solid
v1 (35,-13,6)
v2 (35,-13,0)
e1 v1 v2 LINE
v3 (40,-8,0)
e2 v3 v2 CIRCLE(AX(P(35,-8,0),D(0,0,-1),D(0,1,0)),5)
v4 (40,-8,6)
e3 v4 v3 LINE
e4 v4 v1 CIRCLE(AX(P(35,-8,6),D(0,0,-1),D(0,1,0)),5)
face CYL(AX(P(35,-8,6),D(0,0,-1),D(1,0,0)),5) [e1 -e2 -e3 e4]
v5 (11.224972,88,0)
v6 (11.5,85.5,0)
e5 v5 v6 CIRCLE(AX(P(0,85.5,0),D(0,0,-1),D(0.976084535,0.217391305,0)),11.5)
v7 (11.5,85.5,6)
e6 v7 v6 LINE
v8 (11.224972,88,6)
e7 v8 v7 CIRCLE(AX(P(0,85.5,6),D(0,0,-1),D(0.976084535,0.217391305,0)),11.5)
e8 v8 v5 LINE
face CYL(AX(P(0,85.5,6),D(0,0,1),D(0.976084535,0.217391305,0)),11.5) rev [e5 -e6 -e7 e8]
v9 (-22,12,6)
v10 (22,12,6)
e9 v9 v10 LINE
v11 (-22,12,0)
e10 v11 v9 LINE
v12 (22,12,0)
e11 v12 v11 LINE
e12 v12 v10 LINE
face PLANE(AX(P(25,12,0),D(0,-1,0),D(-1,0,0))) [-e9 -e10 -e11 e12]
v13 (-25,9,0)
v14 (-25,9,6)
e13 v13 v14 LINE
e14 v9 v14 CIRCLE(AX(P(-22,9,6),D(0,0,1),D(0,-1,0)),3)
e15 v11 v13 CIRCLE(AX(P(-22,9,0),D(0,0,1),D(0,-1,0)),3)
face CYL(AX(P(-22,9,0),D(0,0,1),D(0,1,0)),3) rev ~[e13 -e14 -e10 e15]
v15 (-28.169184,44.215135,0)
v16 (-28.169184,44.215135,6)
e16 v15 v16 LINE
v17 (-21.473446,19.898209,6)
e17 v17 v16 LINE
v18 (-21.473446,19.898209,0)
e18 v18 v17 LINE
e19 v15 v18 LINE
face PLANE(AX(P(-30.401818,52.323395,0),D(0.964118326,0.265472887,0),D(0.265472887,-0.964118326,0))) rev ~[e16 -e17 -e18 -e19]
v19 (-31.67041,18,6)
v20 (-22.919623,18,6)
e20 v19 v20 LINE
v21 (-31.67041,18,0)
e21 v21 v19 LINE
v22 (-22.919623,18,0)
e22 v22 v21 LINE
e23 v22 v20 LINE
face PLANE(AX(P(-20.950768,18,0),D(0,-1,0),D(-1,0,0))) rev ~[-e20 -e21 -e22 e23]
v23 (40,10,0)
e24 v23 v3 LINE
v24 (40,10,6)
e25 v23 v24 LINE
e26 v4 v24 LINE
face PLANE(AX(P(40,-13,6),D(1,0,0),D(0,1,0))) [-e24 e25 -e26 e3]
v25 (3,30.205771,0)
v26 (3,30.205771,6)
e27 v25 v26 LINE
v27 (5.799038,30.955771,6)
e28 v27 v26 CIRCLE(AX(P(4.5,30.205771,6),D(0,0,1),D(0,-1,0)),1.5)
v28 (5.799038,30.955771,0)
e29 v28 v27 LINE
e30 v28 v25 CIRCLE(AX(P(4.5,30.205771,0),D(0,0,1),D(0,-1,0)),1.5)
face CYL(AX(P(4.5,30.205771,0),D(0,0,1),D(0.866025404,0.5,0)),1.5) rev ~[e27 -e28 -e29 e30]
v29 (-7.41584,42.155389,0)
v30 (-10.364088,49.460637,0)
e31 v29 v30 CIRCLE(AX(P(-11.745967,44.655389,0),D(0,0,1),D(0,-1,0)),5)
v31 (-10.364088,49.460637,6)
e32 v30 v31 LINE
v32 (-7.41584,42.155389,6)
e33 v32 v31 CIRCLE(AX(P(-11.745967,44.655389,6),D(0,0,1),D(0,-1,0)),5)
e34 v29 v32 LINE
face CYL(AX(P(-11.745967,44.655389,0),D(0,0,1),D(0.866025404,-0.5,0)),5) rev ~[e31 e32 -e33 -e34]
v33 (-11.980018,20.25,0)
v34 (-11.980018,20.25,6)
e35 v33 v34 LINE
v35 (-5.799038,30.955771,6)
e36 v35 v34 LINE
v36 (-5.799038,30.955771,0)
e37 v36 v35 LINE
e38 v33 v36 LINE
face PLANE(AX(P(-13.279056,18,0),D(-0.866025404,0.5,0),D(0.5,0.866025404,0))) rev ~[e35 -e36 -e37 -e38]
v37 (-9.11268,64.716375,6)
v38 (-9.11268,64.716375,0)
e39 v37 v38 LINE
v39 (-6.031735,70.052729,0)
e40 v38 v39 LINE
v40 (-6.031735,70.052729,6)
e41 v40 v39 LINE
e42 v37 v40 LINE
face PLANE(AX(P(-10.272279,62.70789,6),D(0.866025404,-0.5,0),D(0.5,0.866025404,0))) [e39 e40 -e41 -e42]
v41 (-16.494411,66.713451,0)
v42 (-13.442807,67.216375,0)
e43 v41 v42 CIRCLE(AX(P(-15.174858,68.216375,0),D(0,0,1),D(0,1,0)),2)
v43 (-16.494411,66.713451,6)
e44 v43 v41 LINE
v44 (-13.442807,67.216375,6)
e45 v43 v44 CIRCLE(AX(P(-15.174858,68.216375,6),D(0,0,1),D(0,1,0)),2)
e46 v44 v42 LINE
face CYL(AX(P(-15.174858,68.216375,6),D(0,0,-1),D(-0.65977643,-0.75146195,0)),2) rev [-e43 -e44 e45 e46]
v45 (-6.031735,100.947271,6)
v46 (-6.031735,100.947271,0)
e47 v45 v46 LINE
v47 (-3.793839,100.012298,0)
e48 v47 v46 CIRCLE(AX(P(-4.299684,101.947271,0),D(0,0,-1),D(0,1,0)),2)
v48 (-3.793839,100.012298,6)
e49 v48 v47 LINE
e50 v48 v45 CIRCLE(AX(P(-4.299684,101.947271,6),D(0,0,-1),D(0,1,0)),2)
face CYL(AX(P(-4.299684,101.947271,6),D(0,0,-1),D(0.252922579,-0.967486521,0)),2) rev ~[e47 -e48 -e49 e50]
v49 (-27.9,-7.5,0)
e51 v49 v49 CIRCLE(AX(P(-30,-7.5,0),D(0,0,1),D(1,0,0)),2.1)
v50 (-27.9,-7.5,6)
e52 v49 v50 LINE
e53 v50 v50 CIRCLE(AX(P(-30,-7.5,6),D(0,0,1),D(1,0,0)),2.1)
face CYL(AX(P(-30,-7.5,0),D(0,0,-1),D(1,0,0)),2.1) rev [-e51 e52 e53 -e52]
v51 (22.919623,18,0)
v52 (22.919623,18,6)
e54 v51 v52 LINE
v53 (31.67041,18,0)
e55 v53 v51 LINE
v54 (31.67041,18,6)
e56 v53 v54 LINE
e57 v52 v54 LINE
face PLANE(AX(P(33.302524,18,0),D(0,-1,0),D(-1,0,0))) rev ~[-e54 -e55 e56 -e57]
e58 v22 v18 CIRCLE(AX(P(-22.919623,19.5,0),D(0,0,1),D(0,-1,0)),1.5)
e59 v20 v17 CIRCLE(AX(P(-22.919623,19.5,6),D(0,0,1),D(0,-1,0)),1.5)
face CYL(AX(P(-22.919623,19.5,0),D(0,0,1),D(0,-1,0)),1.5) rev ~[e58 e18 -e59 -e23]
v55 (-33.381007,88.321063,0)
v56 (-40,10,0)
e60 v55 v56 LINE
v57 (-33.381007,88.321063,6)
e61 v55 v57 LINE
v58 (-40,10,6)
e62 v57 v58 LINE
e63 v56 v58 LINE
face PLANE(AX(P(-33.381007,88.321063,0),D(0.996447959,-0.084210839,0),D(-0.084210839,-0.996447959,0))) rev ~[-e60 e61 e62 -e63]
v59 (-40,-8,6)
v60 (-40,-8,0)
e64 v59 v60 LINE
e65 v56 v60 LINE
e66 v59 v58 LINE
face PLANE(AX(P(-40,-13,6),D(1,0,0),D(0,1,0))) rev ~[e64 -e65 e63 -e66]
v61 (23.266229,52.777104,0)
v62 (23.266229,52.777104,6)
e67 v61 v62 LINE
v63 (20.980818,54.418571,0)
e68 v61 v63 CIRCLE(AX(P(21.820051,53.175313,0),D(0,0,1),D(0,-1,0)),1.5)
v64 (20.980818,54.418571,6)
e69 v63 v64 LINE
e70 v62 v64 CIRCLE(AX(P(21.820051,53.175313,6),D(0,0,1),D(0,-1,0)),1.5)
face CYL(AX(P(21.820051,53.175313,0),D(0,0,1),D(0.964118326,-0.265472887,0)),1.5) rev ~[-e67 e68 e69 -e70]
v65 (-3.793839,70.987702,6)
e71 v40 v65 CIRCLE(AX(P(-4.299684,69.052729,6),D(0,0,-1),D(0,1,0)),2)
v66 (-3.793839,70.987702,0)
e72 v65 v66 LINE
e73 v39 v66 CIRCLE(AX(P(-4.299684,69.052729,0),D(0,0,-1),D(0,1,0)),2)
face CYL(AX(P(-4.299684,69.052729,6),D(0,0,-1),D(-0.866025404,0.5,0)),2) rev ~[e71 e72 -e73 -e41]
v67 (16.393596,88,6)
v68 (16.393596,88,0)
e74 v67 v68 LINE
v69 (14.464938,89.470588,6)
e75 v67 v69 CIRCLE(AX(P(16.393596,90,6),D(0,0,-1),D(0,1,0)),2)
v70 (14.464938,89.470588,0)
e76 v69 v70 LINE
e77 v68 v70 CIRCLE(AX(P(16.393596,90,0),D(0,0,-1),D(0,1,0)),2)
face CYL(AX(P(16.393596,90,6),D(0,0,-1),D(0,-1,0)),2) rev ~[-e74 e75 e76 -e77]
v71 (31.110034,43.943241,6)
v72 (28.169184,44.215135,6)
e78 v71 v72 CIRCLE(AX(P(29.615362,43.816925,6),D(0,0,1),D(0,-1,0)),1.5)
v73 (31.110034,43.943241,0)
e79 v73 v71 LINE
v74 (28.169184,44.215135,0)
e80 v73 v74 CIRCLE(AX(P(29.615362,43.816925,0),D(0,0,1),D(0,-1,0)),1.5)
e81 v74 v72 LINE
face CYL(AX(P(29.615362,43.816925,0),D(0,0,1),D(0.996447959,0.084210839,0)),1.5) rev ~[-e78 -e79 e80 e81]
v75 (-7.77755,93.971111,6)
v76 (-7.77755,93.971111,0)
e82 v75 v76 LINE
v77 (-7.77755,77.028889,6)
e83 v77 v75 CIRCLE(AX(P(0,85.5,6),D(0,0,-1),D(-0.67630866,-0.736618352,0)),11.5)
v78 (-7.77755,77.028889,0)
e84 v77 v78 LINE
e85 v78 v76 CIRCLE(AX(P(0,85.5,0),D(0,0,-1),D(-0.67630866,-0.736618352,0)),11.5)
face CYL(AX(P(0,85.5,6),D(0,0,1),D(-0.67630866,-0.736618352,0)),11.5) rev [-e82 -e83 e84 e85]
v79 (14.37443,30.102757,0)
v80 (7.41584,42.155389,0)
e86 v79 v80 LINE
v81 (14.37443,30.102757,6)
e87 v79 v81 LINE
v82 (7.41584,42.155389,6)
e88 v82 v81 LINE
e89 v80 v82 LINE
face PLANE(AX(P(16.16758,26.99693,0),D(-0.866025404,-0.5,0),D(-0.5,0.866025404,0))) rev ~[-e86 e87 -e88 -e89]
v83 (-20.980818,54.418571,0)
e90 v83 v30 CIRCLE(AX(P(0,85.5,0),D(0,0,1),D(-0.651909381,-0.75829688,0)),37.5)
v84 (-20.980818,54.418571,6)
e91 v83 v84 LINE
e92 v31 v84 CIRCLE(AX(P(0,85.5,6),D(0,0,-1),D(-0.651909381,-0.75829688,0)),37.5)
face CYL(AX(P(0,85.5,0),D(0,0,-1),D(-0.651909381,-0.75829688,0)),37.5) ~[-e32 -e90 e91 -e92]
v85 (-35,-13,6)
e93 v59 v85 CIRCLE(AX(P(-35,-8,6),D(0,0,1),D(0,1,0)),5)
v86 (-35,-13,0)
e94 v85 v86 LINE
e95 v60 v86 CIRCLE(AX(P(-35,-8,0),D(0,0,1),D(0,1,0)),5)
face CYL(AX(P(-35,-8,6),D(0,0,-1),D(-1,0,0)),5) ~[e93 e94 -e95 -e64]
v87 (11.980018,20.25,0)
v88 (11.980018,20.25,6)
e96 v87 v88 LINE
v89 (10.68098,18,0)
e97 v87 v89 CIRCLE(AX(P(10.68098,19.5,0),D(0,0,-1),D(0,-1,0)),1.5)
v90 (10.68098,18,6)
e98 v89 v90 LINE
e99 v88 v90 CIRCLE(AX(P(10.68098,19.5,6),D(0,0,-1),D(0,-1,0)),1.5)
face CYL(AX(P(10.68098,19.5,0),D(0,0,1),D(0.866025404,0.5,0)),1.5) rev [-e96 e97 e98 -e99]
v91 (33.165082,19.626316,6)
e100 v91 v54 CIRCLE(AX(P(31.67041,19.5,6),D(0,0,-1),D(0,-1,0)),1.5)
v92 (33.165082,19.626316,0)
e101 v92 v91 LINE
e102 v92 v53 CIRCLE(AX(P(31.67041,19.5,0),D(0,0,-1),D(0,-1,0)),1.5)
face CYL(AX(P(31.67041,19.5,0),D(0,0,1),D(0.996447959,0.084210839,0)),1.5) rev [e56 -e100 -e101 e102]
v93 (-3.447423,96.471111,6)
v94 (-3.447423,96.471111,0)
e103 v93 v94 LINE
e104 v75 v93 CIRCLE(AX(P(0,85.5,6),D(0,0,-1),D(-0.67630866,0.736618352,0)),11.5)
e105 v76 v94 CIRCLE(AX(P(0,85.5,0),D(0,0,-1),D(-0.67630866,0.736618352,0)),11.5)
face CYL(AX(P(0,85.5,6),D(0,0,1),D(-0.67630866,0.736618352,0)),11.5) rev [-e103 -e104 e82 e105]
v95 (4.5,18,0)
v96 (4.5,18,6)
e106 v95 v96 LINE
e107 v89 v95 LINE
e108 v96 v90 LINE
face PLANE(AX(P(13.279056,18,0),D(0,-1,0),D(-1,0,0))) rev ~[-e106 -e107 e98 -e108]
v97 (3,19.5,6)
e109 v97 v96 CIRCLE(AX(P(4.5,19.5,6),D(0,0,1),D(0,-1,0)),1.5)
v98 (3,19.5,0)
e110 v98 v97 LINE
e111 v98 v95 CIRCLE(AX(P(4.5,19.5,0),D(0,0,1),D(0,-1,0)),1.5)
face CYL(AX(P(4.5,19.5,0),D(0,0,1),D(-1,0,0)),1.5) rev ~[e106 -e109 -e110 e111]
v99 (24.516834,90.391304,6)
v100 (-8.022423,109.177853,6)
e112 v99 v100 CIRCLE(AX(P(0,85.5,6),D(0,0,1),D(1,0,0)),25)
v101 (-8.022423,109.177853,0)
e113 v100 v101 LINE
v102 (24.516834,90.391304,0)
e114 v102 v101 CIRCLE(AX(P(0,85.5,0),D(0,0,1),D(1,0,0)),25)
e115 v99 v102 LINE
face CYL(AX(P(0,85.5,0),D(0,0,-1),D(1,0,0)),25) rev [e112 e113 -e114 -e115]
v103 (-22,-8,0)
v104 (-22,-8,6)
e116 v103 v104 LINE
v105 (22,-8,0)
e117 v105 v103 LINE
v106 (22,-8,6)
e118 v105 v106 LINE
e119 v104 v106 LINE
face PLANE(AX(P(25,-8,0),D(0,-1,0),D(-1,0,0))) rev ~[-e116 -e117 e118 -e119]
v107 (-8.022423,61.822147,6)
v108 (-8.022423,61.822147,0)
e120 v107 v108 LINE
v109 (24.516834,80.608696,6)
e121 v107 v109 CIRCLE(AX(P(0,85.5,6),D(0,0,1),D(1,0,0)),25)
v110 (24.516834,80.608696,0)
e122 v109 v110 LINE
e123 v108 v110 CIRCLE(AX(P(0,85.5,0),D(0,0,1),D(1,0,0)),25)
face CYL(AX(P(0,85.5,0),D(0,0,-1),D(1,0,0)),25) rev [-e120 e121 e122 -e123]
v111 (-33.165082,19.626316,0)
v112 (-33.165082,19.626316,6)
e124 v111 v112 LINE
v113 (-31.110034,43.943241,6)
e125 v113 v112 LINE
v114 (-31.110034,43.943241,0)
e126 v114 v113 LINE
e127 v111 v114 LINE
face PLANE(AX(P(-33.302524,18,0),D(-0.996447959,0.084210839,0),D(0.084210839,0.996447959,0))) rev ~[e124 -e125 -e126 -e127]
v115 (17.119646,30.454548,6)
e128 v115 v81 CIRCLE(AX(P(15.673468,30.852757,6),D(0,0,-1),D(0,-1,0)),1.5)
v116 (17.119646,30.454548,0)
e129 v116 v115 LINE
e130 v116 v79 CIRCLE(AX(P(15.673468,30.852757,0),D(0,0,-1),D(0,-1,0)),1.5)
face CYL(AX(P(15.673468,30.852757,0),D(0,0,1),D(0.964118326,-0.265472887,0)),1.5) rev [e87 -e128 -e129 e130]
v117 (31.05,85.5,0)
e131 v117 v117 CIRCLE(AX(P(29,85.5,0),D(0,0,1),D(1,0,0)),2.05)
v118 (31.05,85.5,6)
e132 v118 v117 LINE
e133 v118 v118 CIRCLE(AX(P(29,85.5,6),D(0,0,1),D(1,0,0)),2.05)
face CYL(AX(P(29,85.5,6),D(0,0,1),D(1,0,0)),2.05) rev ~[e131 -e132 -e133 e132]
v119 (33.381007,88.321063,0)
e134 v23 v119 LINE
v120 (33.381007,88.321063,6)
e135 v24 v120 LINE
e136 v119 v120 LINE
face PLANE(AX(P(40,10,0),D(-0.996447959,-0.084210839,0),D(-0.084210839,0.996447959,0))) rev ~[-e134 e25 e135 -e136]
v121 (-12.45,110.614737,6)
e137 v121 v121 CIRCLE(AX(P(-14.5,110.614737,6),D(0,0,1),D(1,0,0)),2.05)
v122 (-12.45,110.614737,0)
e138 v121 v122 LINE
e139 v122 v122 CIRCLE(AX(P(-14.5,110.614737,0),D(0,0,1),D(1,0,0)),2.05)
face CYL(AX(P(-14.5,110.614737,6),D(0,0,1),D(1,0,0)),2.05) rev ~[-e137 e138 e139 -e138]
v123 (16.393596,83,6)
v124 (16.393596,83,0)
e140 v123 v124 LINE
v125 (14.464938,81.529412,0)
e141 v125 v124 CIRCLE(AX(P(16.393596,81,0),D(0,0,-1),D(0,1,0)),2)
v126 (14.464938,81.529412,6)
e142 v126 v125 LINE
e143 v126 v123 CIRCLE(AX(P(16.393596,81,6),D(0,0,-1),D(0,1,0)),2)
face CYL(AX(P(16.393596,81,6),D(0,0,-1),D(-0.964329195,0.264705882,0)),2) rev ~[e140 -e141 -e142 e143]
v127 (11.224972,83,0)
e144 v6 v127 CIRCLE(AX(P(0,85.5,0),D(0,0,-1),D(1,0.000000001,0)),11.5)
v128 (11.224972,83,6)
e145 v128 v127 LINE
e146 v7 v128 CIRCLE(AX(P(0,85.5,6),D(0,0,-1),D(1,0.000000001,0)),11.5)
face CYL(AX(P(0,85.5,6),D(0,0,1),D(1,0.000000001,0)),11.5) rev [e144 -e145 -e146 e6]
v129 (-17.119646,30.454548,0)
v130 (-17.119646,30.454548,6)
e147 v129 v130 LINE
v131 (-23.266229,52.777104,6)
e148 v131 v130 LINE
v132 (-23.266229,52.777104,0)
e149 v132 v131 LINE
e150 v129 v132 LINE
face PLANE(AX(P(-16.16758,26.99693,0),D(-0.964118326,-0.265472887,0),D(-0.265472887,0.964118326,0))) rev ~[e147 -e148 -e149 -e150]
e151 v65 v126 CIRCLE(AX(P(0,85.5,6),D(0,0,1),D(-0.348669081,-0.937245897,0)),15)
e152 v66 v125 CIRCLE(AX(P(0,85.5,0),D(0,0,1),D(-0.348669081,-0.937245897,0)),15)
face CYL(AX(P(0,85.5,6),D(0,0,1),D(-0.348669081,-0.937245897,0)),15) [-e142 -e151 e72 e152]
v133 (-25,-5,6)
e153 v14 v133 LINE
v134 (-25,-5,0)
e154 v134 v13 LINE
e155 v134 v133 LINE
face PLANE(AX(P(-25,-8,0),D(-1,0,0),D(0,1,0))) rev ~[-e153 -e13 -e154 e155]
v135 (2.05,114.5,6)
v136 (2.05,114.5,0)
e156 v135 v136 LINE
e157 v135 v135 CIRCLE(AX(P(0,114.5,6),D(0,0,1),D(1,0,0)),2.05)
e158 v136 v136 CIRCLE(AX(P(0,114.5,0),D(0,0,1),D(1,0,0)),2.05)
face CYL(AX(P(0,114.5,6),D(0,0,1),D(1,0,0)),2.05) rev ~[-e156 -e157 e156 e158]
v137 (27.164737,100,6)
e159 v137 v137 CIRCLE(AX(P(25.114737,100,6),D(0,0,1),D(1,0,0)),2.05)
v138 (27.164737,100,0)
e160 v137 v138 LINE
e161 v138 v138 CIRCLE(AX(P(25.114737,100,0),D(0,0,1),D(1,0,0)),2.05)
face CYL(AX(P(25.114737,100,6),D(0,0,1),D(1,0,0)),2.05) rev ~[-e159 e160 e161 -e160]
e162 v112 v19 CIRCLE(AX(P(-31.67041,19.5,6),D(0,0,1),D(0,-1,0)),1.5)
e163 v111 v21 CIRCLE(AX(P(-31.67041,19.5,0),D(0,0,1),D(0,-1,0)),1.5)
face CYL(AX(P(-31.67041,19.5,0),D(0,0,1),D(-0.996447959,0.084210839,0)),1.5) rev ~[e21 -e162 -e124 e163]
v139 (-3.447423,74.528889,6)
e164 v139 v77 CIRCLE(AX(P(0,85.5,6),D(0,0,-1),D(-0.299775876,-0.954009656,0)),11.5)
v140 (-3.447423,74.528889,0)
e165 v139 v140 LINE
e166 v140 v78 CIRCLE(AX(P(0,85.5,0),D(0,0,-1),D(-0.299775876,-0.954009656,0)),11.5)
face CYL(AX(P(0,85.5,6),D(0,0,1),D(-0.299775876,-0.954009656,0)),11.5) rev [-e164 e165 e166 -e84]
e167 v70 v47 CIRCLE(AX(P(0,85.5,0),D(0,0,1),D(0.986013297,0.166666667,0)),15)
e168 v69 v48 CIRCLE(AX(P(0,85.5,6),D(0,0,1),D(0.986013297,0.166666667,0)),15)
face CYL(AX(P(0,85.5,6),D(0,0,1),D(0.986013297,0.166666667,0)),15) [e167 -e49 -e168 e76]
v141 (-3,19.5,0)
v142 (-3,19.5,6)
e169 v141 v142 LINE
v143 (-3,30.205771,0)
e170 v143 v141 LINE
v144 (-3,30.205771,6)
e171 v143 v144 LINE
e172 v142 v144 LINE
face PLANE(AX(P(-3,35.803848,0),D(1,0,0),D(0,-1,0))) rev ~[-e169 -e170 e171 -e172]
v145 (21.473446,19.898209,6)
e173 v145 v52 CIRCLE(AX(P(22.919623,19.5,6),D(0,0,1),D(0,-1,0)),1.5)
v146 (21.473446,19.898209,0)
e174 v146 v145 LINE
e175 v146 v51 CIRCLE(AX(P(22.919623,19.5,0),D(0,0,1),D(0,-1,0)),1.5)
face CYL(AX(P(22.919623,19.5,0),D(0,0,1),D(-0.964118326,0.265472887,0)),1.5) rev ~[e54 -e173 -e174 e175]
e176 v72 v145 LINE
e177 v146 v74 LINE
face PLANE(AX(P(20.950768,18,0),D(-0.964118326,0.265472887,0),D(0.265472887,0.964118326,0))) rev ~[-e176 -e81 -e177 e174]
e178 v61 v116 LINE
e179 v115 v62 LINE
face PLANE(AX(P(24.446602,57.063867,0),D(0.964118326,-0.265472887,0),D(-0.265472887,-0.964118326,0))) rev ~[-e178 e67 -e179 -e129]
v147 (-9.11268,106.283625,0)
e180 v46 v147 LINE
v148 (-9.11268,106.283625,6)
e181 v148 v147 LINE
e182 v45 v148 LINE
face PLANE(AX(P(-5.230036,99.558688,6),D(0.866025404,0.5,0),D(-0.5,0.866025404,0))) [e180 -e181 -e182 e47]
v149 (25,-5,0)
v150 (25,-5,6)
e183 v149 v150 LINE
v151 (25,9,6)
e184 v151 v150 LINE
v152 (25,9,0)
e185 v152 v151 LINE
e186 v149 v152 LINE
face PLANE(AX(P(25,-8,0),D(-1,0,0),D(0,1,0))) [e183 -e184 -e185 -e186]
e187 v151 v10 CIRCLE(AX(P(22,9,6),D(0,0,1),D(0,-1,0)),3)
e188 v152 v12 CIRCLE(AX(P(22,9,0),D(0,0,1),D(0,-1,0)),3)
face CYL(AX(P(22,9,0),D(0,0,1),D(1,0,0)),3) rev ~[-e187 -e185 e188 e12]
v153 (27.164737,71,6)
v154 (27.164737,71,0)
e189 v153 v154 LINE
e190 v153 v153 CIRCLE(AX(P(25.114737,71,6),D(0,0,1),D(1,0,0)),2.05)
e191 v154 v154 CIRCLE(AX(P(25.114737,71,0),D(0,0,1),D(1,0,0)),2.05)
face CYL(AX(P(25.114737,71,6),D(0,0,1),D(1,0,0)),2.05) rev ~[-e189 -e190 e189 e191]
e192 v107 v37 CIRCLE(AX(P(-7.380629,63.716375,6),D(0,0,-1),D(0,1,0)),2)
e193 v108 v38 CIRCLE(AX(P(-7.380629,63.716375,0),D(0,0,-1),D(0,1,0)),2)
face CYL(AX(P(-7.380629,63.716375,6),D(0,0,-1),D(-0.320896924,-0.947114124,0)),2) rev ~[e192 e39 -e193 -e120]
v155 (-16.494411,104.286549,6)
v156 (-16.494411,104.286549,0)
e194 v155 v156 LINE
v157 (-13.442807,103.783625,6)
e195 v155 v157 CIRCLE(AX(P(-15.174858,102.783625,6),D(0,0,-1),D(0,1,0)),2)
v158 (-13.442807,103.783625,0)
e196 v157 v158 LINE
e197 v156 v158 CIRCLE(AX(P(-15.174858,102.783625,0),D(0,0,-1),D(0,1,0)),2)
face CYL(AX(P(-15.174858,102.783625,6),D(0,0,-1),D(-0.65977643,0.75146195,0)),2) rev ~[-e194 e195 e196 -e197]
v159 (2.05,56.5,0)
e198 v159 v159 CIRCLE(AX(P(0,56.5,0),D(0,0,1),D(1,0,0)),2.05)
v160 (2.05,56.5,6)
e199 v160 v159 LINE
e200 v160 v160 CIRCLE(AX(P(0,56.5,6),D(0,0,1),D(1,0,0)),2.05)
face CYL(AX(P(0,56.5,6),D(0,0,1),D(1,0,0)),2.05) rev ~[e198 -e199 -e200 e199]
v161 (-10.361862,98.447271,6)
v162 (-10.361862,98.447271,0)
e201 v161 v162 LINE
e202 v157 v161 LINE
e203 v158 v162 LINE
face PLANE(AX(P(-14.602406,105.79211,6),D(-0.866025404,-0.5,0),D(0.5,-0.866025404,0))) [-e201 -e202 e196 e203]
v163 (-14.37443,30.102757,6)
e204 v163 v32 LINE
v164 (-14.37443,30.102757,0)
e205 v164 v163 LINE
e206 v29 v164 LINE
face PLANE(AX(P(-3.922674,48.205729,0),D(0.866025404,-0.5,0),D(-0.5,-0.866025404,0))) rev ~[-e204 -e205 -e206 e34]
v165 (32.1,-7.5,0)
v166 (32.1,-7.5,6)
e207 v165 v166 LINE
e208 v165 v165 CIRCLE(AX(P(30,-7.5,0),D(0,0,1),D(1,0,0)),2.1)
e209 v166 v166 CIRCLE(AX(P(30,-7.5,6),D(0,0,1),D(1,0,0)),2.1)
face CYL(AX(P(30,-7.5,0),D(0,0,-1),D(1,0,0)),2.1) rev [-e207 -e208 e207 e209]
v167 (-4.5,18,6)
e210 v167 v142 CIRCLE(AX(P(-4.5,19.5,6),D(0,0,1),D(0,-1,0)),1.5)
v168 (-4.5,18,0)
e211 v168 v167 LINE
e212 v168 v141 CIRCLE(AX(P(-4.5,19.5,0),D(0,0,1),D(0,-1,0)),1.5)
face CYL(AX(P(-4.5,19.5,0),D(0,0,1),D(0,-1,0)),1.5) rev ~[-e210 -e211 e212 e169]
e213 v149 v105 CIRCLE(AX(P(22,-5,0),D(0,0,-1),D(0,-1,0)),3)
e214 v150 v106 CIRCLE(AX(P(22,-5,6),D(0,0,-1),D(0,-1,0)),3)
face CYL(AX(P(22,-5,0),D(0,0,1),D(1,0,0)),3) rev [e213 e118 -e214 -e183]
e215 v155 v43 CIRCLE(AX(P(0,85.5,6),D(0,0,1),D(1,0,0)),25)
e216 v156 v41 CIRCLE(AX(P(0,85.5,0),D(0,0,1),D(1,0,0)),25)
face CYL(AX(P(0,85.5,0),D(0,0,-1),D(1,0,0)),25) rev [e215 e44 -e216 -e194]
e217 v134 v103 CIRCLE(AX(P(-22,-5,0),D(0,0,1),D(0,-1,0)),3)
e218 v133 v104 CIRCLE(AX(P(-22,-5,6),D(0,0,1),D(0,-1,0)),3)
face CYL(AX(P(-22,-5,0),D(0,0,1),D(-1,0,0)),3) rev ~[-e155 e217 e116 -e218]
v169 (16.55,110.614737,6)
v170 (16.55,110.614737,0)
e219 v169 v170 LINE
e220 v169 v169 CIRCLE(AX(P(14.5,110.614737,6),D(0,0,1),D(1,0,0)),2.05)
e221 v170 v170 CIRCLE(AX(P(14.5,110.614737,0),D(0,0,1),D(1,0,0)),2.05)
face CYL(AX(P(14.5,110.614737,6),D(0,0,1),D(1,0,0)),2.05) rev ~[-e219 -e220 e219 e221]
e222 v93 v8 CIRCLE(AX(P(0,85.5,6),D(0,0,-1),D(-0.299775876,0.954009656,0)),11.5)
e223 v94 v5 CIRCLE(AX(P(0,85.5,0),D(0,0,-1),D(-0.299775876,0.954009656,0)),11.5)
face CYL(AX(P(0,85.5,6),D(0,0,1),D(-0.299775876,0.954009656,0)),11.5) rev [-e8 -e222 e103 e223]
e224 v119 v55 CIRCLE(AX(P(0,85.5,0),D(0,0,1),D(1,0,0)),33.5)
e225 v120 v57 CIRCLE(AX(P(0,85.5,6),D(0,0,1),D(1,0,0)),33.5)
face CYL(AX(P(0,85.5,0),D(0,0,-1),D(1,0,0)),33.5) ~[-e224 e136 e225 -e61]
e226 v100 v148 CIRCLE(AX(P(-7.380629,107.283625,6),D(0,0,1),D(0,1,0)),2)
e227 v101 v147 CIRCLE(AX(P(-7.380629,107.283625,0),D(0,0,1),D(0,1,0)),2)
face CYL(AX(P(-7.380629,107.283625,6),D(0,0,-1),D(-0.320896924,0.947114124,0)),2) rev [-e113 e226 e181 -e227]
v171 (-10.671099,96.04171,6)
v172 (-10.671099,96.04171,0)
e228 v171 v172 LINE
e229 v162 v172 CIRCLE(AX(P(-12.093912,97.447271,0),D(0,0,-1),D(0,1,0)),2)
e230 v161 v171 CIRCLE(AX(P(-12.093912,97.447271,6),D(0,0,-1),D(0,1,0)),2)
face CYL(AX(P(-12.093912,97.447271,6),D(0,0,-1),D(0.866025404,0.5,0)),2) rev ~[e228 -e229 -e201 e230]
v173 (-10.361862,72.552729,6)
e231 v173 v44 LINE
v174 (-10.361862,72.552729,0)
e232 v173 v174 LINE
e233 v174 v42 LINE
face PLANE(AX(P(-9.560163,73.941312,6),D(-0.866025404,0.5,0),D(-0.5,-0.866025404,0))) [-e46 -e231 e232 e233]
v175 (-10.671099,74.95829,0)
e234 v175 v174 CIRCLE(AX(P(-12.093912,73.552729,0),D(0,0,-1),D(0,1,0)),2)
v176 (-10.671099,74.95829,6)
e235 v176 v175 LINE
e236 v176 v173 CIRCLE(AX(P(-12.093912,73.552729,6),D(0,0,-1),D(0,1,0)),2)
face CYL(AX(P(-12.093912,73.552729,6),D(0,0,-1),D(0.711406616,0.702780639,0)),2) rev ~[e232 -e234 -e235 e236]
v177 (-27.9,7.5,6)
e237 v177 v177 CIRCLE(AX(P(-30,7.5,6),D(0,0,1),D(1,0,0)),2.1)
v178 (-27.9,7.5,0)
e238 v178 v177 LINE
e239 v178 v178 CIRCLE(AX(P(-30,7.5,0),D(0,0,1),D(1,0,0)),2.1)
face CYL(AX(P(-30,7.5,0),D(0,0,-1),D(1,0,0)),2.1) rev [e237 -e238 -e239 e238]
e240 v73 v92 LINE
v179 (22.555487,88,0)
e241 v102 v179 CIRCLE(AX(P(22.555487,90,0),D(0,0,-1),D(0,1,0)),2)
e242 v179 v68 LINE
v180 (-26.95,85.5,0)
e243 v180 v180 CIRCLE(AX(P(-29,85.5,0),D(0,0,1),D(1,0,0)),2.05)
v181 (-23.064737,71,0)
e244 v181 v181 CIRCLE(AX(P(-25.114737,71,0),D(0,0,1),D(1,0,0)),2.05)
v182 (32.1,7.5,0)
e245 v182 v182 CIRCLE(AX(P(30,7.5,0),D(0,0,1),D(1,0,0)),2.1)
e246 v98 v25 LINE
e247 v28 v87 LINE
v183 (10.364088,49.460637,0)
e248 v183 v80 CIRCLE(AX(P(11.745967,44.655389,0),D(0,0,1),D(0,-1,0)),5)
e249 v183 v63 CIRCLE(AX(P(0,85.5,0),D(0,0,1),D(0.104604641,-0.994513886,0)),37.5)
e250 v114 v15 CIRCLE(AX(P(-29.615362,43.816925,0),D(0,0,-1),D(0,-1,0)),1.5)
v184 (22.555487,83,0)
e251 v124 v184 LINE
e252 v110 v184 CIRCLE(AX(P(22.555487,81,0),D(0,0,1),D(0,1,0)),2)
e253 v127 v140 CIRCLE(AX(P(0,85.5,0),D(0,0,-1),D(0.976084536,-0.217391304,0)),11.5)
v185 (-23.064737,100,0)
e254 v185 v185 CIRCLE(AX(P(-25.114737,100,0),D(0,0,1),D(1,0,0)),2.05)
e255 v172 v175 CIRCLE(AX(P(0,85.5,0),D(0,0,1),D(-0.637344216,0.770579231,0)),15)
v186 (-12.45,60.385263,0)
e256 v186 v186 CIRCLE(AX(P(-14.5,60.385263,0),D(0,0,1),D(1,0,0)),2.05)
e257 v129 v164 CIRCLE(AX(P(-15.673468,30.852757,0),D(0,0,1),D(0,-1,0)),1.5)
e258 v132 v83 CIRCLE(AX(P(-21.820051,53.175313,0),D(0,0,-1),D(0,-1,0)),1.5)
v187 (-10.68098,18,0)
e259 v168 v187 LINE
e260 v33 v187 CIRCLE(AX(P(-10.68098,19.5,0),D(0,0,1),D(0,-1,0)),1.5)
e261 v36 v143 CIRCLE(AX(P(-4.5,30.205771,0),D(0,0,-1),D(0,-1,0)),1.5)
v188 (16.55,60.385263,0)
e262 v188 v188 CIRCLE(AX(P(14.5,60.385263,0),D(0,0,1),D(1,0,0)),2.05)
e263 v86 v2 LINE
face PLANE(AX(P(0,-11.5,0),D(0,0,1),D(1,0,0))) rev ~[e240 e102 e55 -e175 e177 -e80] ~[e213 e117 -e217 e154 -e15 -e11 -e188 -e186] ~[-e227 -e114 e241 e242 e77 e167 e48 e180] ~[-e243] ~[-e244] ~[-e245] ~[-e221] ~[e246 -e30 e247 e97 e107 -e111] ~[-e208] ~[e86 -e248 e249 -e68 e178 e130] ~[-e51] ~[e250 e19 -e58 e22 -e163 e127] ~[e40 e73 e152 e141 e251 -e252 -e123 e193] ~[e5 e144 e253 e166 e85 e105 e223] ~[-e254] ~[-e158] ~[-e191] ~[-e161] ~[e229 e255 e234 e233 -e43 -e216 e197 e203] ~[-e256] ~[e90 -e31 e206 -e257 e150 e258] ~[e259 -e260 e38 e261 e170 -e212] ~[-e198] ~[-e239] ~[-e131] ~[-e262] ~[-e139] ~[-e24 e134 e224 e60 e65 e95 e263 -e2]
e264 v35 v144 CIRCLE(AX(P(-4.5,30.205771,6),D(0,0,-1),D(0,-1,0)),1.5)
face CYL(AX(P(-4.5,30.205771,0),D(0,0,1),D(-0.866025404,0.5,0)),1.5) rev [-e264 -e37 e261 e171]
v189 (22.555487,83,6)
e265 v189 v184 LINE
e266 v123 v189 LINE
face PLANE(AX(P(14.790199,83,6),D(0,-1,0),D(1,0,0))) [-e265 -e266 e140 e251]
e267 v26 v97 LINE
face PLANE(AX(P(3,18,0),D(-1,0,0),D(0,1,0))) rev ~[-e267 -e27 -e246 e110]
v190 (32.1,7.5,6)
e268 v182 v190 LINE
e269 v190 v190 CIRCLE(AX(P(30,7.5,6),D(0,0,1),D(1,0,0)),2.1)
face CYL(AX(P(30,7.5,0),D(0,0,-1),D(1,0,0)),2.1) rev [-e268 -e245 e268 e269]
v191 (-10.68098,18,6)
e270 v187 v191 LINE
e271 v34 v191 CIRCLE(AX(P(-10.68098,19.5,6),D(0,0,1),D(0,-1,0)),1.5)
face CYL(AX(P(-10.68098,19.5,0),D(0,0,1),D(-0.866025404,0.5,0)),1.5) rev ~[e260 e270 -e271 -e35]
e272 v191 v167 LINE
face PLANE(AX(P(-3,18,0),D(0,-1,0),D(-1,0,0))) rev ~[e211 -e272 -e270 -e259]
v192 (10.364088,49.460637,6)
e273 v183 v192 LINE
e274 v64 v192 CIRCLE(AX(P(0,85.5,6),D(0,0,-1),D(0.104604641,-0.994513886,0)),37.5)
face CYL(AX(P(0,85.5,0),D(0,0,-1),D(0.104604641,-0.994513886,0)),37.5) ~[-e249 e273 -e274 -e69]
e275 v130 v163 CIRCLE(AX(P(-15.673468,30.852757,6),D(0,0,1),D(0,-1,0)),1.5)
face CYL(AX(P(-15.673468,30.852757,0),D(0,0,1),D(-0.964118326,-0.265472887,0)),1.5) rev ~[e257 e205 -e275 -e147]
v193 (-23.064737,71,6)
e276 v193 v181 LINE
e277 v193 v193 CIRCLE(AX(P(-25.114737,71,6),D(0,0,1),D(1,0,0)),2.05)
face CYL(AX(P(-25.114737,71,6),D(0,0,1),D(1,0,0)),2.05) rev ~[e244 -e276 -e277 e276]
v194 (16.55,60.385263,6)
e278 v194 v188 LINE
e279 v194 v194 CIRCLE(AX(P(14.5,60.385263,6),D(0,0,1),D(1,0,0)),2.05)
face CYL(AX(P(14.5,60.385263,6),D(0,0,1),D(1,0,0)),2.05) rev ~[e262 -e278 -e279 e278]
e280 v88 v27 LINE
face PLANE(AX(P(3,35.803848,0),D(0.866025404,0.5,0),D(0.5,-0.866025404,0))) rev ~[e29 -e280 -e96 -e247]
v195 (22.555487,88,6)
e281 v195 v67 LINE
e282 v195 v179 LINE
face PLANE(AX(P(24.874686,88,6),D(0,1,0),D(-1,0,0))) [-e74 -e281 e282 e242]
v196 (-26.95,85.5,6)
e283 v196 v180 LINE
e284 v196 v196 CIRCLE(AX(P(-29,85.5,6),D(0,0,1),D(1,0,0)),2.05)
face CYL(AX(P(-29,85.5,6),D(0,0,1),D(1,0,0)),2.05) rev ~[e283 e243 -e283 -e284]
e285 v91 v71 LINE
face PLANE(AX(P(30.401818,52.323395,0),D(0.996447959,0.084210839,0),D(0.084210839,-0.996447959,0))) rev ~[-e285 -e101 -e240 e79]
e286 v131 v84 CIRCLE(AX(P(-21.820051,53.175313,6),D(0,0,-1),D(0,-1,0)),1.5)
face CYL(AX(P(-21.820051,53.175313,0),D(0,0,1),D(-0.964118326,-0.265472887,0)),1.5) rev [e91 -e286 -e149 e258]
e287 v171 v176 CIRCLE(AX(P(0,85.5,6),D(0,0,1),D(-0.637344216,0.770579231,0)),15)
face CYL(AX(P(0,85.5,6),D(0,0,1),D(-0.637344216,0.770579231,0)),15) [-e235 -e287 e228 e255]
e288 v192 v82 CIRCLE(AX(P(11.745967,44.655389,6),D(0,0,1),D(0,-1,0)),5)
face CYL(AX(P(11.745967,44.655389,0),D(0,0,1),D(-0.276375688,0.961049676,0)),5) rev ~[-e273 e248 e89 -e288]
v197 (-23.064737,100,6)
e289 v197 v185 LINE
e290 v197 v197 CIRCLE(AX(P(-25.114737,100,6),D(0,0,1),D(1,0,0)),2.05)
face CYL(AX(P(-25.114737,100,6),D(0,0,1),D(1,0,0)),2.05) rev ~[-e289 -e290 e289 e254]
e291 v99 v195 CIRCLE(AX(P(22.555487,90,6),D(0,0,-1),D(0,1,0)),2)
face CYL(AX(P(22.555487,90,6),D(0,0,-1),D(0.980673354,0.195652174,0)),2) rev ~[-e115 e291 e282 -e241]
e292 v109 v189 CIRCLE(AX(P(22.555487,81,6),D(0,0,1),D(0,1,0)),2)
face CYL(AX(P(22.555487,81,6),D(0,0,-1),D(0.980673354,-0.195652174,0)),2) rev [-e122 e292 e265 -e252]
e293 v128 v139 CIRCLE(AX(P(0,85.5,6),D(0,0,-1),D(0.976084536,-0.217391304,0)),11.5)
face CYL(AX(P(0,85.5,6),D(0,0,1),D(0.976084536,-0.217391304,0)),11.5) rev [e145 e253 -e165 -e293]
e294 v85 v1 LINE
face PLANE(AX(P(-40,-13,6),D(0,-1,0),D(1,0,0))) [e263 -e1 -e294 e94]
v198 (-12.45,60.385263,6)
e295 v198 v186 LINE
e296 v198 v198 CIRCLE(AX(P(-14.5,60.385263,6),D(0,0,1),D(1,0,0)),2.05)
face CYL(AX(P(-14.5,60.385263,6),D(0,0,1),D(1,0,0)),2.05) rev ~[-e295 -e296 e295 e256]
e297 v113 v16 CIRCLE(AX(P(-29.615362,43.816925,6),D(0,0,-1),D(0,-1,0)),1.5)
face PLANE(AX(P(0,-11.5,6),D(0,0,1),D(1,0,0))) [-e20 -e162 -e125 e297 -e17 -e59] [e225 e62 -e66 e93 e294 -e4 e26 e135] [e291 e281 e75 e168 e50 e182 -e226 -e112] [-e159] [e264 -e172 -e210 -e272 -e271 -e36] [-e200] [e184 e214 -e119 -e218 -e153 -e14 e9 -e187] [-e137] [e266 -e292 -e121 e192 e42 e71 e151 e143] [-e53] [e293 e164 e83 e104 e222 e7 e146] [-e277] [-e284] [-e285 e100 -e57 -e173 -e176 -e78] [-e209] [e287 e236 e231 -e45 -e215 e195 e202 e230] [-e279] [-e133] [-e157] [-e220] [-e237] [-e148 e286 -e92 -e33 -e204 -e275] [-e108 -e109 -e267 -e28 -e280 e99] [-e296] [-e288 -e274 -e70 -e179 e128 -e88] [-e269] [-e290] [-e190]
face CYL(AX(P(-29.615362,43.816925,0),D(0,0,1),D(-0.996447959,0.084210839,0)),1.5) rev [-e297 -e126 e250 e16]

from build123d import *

# Parameters (mm, degrees)
SKETCH_1_R          = 33.5
SKETCH_1_R_2        = 25
SKETCH_1_W          = 80
SKETCH_1_H          = 20
SKETCH_1_R_3        = 2.1
EXTRUDE_1_DEPTH     = 6
SKETCH_3_R          = 2.05
CUT_EXTRUDE_1_DEPTH = 126.686116974
EXTRUDE_2_DEPTH     = 6
FILLET_1_R          = 2
SKETCH_5_W          = 80
SKETCH_5_H          = 3
EXTRUDE_3_DEPTH     = 6
FILLET_2_R          = 5
SKETCH_6_W          = 50
SKETCH_6_H          = 20
CUT_EXTRUDE_2_DEPTH = 10
FILLET_3_R          = 3
FILLET_4_R          = 1.5
FILLET_5_R          = 5


with BuildPart() as part:
    # 草图1 → 凸台-拉伸1 (new body)
    # profile 1 of 3: a face of its own
    with BuildSketch(Plane.XY):
        with Locations((0, 85.5)):
            Circle(SKETCH_1_R)
        with Locations((0, 85.5)):
            Circle(SKETCH_1_R_2, mode=Mode.SUBTRACT)
    # profile 2 of 3: a face of its own
    with BuildSketch(Plane.XY):
        with BuildLine():
            Line((-33.38100662, 88.32106311), (-40, 10))
            Line((-40, 10), (40, 10))
            Line((40, 10), (33.38100662, 88.32106311))
            ThreePointArc((33.38100662, 88.32106311), (33.470238435, 86.911785792), (33.5, 85.5))
            ThreePointArc((33.5, 85.5), (-1.411785792, 52.029761565), (-33.38100662, 88.32106311))
        make_face()
    # profile 3 of 3: a face of its own
    with BuildSketch(Plane.XY):
        Rectangle(SKETCH_1_W, SKETCH_1_H)
        with Locations((-30, 7.5)):
            Circle(SKETCH_1_R_3, mode=Mode.SUBTRACT)
        with Locations((30, 7.5)):
            Circle(SKETCH_1_R_3, mode=Mode.SUBTRACT)
        with Locations((30, -7.5)):
            Circle(SKETCH_1_R_3, mode=Mode.SUBTRACT)
        with Locations((-30, -7.5)):
            Circle(SKETCH_1_R_3, mode=Mode.SUBTRACT)
    extrude(amount=EXTRUDE_1_DEPTH)

    # 草图3 → 切除-拉伸1 (cut, through all)
    with BuildSketch(Plane.XY.offset(6)):
        with Locations((0, 114.5)):
            Circle(SKETCH_3_R)
        with Locations((14.5, 110.61473671)):
            Circle(SKETCH_3_R)
        with Locations((25.11473671, 100)):
            Circle(SKETCH_3_R)
        with Locations((29, 85.5)):
            Circle(SKETCH_3_R)
        with Locations((25.11473671, 71)):
            Circle(SKETCH_3_R)
        with Locations((14.5, 60.38526329)):
            Circle(SKETCH_3_R)
        with Locations((0, 56.5)):
            Circle(SKETCH_3_R)
        with Locations((-14.5, 60.38526329)):
            Circle(SKETCH_3_R)
        with Locations((-25.11473671, 71)):
            Circle(SKETCH_3_R)
        with Locations((-29, 85.5)):
            Circle(SKETCH_3_R)
        with Locations((-25.11473671, 100)):
            Circle(SKETCH_3_R)
        with Locations((-14.5, 110.61473671)):
            Circle(SKETCH_3_R)
    extrude(amount=-CUT_EXTRUDE_1_DEPTH, mode=Mode.SUBTRACT)


with BuildPart() as body_2:
    # 草图4 → 凸台-拉伸2 (new body)
    with BuildSketch(Plane.XY.offset(6)):
        with BuildLine():
            ThreePointArc((-10.272279454, 108.292109925), (-12.5, 107.150635095), (-14.602406473, 105.792109925))
            Line((-14.602406473, 105.792109925), (-9.560163238, 97.058688457))
            Line((-9.560163238, 97.058688457), (-7.77754959, 93.971111048))
            ThreePointArc((-7.77754959, 93.971111048), (-5.75, 95.459292144), (-3.447422571, 96.471111048))
            Line((-3.447422571, 96.471111048), (-5.230036219, 99.558688457))
            Line((-5.230036219, 99.558688457), (-10.272279454, 108.292109925))
        make_face()
        with BuildLine():
            ThreePointArc((25, 85.5), (24.968651828, 86.751569376), (24.874685928, 88))
            Line((24.874685928, 88), (14.790199458, 88))
            Line((14.790199458, 88), (11.22497216, 88))
            ThreePointArc((11.22497216, 88), (11.431036258, 86.757541283), (11.5, 85.5))
            ThreePointArc((11.5, 85.5), (11.431036258, 84.242458717), (11.22497216, 83))
            Line((11.22497216, 83), (14.790199458, 83))
            Line((14.790199458, 83), (24.874685928, 83))
            ThreePointArc((24.874685928, 83), (24.968651828, 84.248430624), (25, 85.5))
        make_face()
        with BuildLine():
            Line((-9.560163238, 73.941311543), (-14.602406473, 65.207890075))
            ThreePointArc((-14.602406473, 65.207890075), (-12.5, 63.849364905), (-10.272279454, 62.707890075))
            Line((-10.272279454, 62.707890075), (-5.230036219, 71.441311543))
            Line((-5.230036219, 71.441311543), (-3.447422571, 74.528888952))
            ThreePointArc((-3.447422571, 74.528888952), (-5.75, 75.540707856), (-7.77754959, 77.028888952))
            Line((-7.77754959, 77.028888952), (-9.560163238, 73.941311543))
        make_face()
        with BuildLine():
            Line((-7.77754959, 93.971111048), (-9.560163238, 97.058688457))
            ThreePointArc((-9.560163238, 97.058688457), (-15, 85.5), (-9.560163238, 73.941311543))
            Line((-9.560163238, 73.941311543), (-7.77754959, 77.028888952))
            ThreePointArc((-7.77754959, 77.028888952), (-11.5, 85.5), (-7.77754959, 93.971111048))
        make_face()
        with BuildLine():
            Line((-3.447422571, 74.528888952), (-5.230036219, 71.441311543))
            ThreePointArc((-5.230036219, 71.441311543), (7.5, 72.509618943), (14.790199458, 83))
            Line((14.790199458, 83), (11.22497216, 83))
            ThreePointArc((11.22497216, 83), (5.75, 75.540707856), (-3.447422571, 74.528888952))
        make_face()
        with BuildLine():
            ThreePointArc((14.790199458, 88), (7.5, 98.490381057), (-5.230036219, 99.558688457))
            Line((-5.230036219, 99.558688457), (-3.447422571, 96.471111048))
            ThreePointArc((-3.447422571, 96.471111048), (5.75, 95.459292144), (11.22497216, 88))
            Line((11.22497216, 88), (14.790199458, 88))
        make_face()
    extrude(amount=-EXTRUDE_2_DEPTH)

    # Combine 1: union part
    add(part.part)

    # 圆角1
    fillet_1_edges = [body_2.edges().sort_by_distance(p)[0] for p in [
        (-9.560163238, 73.941311543, 3),
        (-14.602406473, 65.207890075, 3),
        (-10.272279454, 62.707890075, 3),
        (-5.230036219, 71.441311543, 3),
        (14.790199458, 83, 3),
        (24.874685928, 83, 3),
        (24.874685928, 88, 3),
        (14.790199458, 88, 3),
        (-5.230036219, 99.558688457, 3),
        (-10.272279454, 108.292109925, 3),
        (-14.602406473, 105.792109925, 3),
        (-9.560163238, 97.058688457, 3),
    ]]
    fillet(fillet_1_edges, radius=FILLET_1_R)

    # 草图5 → 凸台-拉伸3 (add)
    with BuildSketch(Plane.XY.offset(6)):
        with Locations((0, -11.5)):
            Rectangle(SKETCH_5_W, SKETCH_5_H)
    extrude(amount=-EXTRUDE_3_DEPTH)

    # 圆角2
    fillet_2_edges = [body_2.edges().sort_by_distance(p)[0] for p in [
        (-40, -13, 3),
        (40, -13, 3),
    ]]
    fillet(fillet_2_edges, radius=FILLET_2_R)

    # 草图6 → 切除-拉伸2 (cut)
    with BuildSketch(Plane(origin=(0, 0, 0), x_dir=(-1, 0, 0), z_dir=(0, 0, -1))):
        with Locations((0, 2)):
            Rectangle(SKETCH_6_W, SKETCH_6_H)
        Polygon((-33.302523575, 18), (-20.950767875, 18), (-30.401818232, 52.323395297), align=None)
        with BuildLine():
            Line((-16.167580049, 26.996929919), (-3.922674029, 48.205729281))
            ThreePointArc((-3.922674029, 48.205729281), (-14.860033774, 51.069934705), (-24.446601804, 57.063866996))
            Line((-24.446601804, 57.063866996), (-16.167580049, 26.996929919))
        make_face()
        with BuildLine():
            ThreePointArc((24.446601804, 57.063866996), (14.860033774, 51.069934705), (3.922674029, 48.205729281))
            Line((3.922674029, 48.205729281), (16.167580049, 26.996929919))
            Line((16.167580049, 26.996929919), (24.446601804, 57.063866996))
        make_face()
        Polygon((30.401818232, 52.323395297), (20.950767875, 18), (33.302523575, 18), align=None)
        Polygon((-13.279056191, 18), (-3, 18), (-3, 35.803847577), align=None)
        Polygon((3, 35.803847577), (3, 18), (13.279056191, 18), align=None)
    extrude(amount=-CUT_EXTRUDE_2_DEPTH, mode=Mode.SUBTRACT)

    # 圆角3
    fillet_3_edges = [body_2.edges().sort_by_distance(p)[0] for p in [
        (-25, 12, 3),
        (-25, -8, 3),
        (25, -8, 3),
        (25, 12, 3),
    ]]
    fillet(fillet_3_edges, radius=FILLET_3_R)

    # 圆角4
    fillet_4_edges = [body_2.edges().sort_by_distance(p)[0] for p in [
        (-3, 35.803847577, 3),
        (-13.279056191, 18, 3),
        (-3, 18, 3),
        (3, 35.803847577, 3),
        (3, 18, 3),
        (13.279056191, 18, 3),
        (-24.446601804, 57.063866996, 3),
        (-16.167580049, 26.996929919, 3),
        (-20.950767875, 18, 3),
        (-30.401818232, 52.323395297, 3),
        (-33.302523575, 18, 3),
        (20.950767875, 18, 3),
        (33.302523575, 18, 3),
        (30.401818232, 52.323395297, 3),
        (24.446601804, 57.063866996, 3),
        (16.167580049, 26.996929919, 3),
    ]]
    fillet(fillet_4_edges, radius=FILLET_4_R)

    # 圆角5
    fillet_5_edges = [body_2.edges().sort_by_distance(p)[0] for p in [
        (-3.922674029, 48.205729281, 3),
        (3.922674029, 48.205729281, 3),
    ]]
    fillet(fillet_5_edges, radius=FILLET_5_R)


solid = body_2.part
